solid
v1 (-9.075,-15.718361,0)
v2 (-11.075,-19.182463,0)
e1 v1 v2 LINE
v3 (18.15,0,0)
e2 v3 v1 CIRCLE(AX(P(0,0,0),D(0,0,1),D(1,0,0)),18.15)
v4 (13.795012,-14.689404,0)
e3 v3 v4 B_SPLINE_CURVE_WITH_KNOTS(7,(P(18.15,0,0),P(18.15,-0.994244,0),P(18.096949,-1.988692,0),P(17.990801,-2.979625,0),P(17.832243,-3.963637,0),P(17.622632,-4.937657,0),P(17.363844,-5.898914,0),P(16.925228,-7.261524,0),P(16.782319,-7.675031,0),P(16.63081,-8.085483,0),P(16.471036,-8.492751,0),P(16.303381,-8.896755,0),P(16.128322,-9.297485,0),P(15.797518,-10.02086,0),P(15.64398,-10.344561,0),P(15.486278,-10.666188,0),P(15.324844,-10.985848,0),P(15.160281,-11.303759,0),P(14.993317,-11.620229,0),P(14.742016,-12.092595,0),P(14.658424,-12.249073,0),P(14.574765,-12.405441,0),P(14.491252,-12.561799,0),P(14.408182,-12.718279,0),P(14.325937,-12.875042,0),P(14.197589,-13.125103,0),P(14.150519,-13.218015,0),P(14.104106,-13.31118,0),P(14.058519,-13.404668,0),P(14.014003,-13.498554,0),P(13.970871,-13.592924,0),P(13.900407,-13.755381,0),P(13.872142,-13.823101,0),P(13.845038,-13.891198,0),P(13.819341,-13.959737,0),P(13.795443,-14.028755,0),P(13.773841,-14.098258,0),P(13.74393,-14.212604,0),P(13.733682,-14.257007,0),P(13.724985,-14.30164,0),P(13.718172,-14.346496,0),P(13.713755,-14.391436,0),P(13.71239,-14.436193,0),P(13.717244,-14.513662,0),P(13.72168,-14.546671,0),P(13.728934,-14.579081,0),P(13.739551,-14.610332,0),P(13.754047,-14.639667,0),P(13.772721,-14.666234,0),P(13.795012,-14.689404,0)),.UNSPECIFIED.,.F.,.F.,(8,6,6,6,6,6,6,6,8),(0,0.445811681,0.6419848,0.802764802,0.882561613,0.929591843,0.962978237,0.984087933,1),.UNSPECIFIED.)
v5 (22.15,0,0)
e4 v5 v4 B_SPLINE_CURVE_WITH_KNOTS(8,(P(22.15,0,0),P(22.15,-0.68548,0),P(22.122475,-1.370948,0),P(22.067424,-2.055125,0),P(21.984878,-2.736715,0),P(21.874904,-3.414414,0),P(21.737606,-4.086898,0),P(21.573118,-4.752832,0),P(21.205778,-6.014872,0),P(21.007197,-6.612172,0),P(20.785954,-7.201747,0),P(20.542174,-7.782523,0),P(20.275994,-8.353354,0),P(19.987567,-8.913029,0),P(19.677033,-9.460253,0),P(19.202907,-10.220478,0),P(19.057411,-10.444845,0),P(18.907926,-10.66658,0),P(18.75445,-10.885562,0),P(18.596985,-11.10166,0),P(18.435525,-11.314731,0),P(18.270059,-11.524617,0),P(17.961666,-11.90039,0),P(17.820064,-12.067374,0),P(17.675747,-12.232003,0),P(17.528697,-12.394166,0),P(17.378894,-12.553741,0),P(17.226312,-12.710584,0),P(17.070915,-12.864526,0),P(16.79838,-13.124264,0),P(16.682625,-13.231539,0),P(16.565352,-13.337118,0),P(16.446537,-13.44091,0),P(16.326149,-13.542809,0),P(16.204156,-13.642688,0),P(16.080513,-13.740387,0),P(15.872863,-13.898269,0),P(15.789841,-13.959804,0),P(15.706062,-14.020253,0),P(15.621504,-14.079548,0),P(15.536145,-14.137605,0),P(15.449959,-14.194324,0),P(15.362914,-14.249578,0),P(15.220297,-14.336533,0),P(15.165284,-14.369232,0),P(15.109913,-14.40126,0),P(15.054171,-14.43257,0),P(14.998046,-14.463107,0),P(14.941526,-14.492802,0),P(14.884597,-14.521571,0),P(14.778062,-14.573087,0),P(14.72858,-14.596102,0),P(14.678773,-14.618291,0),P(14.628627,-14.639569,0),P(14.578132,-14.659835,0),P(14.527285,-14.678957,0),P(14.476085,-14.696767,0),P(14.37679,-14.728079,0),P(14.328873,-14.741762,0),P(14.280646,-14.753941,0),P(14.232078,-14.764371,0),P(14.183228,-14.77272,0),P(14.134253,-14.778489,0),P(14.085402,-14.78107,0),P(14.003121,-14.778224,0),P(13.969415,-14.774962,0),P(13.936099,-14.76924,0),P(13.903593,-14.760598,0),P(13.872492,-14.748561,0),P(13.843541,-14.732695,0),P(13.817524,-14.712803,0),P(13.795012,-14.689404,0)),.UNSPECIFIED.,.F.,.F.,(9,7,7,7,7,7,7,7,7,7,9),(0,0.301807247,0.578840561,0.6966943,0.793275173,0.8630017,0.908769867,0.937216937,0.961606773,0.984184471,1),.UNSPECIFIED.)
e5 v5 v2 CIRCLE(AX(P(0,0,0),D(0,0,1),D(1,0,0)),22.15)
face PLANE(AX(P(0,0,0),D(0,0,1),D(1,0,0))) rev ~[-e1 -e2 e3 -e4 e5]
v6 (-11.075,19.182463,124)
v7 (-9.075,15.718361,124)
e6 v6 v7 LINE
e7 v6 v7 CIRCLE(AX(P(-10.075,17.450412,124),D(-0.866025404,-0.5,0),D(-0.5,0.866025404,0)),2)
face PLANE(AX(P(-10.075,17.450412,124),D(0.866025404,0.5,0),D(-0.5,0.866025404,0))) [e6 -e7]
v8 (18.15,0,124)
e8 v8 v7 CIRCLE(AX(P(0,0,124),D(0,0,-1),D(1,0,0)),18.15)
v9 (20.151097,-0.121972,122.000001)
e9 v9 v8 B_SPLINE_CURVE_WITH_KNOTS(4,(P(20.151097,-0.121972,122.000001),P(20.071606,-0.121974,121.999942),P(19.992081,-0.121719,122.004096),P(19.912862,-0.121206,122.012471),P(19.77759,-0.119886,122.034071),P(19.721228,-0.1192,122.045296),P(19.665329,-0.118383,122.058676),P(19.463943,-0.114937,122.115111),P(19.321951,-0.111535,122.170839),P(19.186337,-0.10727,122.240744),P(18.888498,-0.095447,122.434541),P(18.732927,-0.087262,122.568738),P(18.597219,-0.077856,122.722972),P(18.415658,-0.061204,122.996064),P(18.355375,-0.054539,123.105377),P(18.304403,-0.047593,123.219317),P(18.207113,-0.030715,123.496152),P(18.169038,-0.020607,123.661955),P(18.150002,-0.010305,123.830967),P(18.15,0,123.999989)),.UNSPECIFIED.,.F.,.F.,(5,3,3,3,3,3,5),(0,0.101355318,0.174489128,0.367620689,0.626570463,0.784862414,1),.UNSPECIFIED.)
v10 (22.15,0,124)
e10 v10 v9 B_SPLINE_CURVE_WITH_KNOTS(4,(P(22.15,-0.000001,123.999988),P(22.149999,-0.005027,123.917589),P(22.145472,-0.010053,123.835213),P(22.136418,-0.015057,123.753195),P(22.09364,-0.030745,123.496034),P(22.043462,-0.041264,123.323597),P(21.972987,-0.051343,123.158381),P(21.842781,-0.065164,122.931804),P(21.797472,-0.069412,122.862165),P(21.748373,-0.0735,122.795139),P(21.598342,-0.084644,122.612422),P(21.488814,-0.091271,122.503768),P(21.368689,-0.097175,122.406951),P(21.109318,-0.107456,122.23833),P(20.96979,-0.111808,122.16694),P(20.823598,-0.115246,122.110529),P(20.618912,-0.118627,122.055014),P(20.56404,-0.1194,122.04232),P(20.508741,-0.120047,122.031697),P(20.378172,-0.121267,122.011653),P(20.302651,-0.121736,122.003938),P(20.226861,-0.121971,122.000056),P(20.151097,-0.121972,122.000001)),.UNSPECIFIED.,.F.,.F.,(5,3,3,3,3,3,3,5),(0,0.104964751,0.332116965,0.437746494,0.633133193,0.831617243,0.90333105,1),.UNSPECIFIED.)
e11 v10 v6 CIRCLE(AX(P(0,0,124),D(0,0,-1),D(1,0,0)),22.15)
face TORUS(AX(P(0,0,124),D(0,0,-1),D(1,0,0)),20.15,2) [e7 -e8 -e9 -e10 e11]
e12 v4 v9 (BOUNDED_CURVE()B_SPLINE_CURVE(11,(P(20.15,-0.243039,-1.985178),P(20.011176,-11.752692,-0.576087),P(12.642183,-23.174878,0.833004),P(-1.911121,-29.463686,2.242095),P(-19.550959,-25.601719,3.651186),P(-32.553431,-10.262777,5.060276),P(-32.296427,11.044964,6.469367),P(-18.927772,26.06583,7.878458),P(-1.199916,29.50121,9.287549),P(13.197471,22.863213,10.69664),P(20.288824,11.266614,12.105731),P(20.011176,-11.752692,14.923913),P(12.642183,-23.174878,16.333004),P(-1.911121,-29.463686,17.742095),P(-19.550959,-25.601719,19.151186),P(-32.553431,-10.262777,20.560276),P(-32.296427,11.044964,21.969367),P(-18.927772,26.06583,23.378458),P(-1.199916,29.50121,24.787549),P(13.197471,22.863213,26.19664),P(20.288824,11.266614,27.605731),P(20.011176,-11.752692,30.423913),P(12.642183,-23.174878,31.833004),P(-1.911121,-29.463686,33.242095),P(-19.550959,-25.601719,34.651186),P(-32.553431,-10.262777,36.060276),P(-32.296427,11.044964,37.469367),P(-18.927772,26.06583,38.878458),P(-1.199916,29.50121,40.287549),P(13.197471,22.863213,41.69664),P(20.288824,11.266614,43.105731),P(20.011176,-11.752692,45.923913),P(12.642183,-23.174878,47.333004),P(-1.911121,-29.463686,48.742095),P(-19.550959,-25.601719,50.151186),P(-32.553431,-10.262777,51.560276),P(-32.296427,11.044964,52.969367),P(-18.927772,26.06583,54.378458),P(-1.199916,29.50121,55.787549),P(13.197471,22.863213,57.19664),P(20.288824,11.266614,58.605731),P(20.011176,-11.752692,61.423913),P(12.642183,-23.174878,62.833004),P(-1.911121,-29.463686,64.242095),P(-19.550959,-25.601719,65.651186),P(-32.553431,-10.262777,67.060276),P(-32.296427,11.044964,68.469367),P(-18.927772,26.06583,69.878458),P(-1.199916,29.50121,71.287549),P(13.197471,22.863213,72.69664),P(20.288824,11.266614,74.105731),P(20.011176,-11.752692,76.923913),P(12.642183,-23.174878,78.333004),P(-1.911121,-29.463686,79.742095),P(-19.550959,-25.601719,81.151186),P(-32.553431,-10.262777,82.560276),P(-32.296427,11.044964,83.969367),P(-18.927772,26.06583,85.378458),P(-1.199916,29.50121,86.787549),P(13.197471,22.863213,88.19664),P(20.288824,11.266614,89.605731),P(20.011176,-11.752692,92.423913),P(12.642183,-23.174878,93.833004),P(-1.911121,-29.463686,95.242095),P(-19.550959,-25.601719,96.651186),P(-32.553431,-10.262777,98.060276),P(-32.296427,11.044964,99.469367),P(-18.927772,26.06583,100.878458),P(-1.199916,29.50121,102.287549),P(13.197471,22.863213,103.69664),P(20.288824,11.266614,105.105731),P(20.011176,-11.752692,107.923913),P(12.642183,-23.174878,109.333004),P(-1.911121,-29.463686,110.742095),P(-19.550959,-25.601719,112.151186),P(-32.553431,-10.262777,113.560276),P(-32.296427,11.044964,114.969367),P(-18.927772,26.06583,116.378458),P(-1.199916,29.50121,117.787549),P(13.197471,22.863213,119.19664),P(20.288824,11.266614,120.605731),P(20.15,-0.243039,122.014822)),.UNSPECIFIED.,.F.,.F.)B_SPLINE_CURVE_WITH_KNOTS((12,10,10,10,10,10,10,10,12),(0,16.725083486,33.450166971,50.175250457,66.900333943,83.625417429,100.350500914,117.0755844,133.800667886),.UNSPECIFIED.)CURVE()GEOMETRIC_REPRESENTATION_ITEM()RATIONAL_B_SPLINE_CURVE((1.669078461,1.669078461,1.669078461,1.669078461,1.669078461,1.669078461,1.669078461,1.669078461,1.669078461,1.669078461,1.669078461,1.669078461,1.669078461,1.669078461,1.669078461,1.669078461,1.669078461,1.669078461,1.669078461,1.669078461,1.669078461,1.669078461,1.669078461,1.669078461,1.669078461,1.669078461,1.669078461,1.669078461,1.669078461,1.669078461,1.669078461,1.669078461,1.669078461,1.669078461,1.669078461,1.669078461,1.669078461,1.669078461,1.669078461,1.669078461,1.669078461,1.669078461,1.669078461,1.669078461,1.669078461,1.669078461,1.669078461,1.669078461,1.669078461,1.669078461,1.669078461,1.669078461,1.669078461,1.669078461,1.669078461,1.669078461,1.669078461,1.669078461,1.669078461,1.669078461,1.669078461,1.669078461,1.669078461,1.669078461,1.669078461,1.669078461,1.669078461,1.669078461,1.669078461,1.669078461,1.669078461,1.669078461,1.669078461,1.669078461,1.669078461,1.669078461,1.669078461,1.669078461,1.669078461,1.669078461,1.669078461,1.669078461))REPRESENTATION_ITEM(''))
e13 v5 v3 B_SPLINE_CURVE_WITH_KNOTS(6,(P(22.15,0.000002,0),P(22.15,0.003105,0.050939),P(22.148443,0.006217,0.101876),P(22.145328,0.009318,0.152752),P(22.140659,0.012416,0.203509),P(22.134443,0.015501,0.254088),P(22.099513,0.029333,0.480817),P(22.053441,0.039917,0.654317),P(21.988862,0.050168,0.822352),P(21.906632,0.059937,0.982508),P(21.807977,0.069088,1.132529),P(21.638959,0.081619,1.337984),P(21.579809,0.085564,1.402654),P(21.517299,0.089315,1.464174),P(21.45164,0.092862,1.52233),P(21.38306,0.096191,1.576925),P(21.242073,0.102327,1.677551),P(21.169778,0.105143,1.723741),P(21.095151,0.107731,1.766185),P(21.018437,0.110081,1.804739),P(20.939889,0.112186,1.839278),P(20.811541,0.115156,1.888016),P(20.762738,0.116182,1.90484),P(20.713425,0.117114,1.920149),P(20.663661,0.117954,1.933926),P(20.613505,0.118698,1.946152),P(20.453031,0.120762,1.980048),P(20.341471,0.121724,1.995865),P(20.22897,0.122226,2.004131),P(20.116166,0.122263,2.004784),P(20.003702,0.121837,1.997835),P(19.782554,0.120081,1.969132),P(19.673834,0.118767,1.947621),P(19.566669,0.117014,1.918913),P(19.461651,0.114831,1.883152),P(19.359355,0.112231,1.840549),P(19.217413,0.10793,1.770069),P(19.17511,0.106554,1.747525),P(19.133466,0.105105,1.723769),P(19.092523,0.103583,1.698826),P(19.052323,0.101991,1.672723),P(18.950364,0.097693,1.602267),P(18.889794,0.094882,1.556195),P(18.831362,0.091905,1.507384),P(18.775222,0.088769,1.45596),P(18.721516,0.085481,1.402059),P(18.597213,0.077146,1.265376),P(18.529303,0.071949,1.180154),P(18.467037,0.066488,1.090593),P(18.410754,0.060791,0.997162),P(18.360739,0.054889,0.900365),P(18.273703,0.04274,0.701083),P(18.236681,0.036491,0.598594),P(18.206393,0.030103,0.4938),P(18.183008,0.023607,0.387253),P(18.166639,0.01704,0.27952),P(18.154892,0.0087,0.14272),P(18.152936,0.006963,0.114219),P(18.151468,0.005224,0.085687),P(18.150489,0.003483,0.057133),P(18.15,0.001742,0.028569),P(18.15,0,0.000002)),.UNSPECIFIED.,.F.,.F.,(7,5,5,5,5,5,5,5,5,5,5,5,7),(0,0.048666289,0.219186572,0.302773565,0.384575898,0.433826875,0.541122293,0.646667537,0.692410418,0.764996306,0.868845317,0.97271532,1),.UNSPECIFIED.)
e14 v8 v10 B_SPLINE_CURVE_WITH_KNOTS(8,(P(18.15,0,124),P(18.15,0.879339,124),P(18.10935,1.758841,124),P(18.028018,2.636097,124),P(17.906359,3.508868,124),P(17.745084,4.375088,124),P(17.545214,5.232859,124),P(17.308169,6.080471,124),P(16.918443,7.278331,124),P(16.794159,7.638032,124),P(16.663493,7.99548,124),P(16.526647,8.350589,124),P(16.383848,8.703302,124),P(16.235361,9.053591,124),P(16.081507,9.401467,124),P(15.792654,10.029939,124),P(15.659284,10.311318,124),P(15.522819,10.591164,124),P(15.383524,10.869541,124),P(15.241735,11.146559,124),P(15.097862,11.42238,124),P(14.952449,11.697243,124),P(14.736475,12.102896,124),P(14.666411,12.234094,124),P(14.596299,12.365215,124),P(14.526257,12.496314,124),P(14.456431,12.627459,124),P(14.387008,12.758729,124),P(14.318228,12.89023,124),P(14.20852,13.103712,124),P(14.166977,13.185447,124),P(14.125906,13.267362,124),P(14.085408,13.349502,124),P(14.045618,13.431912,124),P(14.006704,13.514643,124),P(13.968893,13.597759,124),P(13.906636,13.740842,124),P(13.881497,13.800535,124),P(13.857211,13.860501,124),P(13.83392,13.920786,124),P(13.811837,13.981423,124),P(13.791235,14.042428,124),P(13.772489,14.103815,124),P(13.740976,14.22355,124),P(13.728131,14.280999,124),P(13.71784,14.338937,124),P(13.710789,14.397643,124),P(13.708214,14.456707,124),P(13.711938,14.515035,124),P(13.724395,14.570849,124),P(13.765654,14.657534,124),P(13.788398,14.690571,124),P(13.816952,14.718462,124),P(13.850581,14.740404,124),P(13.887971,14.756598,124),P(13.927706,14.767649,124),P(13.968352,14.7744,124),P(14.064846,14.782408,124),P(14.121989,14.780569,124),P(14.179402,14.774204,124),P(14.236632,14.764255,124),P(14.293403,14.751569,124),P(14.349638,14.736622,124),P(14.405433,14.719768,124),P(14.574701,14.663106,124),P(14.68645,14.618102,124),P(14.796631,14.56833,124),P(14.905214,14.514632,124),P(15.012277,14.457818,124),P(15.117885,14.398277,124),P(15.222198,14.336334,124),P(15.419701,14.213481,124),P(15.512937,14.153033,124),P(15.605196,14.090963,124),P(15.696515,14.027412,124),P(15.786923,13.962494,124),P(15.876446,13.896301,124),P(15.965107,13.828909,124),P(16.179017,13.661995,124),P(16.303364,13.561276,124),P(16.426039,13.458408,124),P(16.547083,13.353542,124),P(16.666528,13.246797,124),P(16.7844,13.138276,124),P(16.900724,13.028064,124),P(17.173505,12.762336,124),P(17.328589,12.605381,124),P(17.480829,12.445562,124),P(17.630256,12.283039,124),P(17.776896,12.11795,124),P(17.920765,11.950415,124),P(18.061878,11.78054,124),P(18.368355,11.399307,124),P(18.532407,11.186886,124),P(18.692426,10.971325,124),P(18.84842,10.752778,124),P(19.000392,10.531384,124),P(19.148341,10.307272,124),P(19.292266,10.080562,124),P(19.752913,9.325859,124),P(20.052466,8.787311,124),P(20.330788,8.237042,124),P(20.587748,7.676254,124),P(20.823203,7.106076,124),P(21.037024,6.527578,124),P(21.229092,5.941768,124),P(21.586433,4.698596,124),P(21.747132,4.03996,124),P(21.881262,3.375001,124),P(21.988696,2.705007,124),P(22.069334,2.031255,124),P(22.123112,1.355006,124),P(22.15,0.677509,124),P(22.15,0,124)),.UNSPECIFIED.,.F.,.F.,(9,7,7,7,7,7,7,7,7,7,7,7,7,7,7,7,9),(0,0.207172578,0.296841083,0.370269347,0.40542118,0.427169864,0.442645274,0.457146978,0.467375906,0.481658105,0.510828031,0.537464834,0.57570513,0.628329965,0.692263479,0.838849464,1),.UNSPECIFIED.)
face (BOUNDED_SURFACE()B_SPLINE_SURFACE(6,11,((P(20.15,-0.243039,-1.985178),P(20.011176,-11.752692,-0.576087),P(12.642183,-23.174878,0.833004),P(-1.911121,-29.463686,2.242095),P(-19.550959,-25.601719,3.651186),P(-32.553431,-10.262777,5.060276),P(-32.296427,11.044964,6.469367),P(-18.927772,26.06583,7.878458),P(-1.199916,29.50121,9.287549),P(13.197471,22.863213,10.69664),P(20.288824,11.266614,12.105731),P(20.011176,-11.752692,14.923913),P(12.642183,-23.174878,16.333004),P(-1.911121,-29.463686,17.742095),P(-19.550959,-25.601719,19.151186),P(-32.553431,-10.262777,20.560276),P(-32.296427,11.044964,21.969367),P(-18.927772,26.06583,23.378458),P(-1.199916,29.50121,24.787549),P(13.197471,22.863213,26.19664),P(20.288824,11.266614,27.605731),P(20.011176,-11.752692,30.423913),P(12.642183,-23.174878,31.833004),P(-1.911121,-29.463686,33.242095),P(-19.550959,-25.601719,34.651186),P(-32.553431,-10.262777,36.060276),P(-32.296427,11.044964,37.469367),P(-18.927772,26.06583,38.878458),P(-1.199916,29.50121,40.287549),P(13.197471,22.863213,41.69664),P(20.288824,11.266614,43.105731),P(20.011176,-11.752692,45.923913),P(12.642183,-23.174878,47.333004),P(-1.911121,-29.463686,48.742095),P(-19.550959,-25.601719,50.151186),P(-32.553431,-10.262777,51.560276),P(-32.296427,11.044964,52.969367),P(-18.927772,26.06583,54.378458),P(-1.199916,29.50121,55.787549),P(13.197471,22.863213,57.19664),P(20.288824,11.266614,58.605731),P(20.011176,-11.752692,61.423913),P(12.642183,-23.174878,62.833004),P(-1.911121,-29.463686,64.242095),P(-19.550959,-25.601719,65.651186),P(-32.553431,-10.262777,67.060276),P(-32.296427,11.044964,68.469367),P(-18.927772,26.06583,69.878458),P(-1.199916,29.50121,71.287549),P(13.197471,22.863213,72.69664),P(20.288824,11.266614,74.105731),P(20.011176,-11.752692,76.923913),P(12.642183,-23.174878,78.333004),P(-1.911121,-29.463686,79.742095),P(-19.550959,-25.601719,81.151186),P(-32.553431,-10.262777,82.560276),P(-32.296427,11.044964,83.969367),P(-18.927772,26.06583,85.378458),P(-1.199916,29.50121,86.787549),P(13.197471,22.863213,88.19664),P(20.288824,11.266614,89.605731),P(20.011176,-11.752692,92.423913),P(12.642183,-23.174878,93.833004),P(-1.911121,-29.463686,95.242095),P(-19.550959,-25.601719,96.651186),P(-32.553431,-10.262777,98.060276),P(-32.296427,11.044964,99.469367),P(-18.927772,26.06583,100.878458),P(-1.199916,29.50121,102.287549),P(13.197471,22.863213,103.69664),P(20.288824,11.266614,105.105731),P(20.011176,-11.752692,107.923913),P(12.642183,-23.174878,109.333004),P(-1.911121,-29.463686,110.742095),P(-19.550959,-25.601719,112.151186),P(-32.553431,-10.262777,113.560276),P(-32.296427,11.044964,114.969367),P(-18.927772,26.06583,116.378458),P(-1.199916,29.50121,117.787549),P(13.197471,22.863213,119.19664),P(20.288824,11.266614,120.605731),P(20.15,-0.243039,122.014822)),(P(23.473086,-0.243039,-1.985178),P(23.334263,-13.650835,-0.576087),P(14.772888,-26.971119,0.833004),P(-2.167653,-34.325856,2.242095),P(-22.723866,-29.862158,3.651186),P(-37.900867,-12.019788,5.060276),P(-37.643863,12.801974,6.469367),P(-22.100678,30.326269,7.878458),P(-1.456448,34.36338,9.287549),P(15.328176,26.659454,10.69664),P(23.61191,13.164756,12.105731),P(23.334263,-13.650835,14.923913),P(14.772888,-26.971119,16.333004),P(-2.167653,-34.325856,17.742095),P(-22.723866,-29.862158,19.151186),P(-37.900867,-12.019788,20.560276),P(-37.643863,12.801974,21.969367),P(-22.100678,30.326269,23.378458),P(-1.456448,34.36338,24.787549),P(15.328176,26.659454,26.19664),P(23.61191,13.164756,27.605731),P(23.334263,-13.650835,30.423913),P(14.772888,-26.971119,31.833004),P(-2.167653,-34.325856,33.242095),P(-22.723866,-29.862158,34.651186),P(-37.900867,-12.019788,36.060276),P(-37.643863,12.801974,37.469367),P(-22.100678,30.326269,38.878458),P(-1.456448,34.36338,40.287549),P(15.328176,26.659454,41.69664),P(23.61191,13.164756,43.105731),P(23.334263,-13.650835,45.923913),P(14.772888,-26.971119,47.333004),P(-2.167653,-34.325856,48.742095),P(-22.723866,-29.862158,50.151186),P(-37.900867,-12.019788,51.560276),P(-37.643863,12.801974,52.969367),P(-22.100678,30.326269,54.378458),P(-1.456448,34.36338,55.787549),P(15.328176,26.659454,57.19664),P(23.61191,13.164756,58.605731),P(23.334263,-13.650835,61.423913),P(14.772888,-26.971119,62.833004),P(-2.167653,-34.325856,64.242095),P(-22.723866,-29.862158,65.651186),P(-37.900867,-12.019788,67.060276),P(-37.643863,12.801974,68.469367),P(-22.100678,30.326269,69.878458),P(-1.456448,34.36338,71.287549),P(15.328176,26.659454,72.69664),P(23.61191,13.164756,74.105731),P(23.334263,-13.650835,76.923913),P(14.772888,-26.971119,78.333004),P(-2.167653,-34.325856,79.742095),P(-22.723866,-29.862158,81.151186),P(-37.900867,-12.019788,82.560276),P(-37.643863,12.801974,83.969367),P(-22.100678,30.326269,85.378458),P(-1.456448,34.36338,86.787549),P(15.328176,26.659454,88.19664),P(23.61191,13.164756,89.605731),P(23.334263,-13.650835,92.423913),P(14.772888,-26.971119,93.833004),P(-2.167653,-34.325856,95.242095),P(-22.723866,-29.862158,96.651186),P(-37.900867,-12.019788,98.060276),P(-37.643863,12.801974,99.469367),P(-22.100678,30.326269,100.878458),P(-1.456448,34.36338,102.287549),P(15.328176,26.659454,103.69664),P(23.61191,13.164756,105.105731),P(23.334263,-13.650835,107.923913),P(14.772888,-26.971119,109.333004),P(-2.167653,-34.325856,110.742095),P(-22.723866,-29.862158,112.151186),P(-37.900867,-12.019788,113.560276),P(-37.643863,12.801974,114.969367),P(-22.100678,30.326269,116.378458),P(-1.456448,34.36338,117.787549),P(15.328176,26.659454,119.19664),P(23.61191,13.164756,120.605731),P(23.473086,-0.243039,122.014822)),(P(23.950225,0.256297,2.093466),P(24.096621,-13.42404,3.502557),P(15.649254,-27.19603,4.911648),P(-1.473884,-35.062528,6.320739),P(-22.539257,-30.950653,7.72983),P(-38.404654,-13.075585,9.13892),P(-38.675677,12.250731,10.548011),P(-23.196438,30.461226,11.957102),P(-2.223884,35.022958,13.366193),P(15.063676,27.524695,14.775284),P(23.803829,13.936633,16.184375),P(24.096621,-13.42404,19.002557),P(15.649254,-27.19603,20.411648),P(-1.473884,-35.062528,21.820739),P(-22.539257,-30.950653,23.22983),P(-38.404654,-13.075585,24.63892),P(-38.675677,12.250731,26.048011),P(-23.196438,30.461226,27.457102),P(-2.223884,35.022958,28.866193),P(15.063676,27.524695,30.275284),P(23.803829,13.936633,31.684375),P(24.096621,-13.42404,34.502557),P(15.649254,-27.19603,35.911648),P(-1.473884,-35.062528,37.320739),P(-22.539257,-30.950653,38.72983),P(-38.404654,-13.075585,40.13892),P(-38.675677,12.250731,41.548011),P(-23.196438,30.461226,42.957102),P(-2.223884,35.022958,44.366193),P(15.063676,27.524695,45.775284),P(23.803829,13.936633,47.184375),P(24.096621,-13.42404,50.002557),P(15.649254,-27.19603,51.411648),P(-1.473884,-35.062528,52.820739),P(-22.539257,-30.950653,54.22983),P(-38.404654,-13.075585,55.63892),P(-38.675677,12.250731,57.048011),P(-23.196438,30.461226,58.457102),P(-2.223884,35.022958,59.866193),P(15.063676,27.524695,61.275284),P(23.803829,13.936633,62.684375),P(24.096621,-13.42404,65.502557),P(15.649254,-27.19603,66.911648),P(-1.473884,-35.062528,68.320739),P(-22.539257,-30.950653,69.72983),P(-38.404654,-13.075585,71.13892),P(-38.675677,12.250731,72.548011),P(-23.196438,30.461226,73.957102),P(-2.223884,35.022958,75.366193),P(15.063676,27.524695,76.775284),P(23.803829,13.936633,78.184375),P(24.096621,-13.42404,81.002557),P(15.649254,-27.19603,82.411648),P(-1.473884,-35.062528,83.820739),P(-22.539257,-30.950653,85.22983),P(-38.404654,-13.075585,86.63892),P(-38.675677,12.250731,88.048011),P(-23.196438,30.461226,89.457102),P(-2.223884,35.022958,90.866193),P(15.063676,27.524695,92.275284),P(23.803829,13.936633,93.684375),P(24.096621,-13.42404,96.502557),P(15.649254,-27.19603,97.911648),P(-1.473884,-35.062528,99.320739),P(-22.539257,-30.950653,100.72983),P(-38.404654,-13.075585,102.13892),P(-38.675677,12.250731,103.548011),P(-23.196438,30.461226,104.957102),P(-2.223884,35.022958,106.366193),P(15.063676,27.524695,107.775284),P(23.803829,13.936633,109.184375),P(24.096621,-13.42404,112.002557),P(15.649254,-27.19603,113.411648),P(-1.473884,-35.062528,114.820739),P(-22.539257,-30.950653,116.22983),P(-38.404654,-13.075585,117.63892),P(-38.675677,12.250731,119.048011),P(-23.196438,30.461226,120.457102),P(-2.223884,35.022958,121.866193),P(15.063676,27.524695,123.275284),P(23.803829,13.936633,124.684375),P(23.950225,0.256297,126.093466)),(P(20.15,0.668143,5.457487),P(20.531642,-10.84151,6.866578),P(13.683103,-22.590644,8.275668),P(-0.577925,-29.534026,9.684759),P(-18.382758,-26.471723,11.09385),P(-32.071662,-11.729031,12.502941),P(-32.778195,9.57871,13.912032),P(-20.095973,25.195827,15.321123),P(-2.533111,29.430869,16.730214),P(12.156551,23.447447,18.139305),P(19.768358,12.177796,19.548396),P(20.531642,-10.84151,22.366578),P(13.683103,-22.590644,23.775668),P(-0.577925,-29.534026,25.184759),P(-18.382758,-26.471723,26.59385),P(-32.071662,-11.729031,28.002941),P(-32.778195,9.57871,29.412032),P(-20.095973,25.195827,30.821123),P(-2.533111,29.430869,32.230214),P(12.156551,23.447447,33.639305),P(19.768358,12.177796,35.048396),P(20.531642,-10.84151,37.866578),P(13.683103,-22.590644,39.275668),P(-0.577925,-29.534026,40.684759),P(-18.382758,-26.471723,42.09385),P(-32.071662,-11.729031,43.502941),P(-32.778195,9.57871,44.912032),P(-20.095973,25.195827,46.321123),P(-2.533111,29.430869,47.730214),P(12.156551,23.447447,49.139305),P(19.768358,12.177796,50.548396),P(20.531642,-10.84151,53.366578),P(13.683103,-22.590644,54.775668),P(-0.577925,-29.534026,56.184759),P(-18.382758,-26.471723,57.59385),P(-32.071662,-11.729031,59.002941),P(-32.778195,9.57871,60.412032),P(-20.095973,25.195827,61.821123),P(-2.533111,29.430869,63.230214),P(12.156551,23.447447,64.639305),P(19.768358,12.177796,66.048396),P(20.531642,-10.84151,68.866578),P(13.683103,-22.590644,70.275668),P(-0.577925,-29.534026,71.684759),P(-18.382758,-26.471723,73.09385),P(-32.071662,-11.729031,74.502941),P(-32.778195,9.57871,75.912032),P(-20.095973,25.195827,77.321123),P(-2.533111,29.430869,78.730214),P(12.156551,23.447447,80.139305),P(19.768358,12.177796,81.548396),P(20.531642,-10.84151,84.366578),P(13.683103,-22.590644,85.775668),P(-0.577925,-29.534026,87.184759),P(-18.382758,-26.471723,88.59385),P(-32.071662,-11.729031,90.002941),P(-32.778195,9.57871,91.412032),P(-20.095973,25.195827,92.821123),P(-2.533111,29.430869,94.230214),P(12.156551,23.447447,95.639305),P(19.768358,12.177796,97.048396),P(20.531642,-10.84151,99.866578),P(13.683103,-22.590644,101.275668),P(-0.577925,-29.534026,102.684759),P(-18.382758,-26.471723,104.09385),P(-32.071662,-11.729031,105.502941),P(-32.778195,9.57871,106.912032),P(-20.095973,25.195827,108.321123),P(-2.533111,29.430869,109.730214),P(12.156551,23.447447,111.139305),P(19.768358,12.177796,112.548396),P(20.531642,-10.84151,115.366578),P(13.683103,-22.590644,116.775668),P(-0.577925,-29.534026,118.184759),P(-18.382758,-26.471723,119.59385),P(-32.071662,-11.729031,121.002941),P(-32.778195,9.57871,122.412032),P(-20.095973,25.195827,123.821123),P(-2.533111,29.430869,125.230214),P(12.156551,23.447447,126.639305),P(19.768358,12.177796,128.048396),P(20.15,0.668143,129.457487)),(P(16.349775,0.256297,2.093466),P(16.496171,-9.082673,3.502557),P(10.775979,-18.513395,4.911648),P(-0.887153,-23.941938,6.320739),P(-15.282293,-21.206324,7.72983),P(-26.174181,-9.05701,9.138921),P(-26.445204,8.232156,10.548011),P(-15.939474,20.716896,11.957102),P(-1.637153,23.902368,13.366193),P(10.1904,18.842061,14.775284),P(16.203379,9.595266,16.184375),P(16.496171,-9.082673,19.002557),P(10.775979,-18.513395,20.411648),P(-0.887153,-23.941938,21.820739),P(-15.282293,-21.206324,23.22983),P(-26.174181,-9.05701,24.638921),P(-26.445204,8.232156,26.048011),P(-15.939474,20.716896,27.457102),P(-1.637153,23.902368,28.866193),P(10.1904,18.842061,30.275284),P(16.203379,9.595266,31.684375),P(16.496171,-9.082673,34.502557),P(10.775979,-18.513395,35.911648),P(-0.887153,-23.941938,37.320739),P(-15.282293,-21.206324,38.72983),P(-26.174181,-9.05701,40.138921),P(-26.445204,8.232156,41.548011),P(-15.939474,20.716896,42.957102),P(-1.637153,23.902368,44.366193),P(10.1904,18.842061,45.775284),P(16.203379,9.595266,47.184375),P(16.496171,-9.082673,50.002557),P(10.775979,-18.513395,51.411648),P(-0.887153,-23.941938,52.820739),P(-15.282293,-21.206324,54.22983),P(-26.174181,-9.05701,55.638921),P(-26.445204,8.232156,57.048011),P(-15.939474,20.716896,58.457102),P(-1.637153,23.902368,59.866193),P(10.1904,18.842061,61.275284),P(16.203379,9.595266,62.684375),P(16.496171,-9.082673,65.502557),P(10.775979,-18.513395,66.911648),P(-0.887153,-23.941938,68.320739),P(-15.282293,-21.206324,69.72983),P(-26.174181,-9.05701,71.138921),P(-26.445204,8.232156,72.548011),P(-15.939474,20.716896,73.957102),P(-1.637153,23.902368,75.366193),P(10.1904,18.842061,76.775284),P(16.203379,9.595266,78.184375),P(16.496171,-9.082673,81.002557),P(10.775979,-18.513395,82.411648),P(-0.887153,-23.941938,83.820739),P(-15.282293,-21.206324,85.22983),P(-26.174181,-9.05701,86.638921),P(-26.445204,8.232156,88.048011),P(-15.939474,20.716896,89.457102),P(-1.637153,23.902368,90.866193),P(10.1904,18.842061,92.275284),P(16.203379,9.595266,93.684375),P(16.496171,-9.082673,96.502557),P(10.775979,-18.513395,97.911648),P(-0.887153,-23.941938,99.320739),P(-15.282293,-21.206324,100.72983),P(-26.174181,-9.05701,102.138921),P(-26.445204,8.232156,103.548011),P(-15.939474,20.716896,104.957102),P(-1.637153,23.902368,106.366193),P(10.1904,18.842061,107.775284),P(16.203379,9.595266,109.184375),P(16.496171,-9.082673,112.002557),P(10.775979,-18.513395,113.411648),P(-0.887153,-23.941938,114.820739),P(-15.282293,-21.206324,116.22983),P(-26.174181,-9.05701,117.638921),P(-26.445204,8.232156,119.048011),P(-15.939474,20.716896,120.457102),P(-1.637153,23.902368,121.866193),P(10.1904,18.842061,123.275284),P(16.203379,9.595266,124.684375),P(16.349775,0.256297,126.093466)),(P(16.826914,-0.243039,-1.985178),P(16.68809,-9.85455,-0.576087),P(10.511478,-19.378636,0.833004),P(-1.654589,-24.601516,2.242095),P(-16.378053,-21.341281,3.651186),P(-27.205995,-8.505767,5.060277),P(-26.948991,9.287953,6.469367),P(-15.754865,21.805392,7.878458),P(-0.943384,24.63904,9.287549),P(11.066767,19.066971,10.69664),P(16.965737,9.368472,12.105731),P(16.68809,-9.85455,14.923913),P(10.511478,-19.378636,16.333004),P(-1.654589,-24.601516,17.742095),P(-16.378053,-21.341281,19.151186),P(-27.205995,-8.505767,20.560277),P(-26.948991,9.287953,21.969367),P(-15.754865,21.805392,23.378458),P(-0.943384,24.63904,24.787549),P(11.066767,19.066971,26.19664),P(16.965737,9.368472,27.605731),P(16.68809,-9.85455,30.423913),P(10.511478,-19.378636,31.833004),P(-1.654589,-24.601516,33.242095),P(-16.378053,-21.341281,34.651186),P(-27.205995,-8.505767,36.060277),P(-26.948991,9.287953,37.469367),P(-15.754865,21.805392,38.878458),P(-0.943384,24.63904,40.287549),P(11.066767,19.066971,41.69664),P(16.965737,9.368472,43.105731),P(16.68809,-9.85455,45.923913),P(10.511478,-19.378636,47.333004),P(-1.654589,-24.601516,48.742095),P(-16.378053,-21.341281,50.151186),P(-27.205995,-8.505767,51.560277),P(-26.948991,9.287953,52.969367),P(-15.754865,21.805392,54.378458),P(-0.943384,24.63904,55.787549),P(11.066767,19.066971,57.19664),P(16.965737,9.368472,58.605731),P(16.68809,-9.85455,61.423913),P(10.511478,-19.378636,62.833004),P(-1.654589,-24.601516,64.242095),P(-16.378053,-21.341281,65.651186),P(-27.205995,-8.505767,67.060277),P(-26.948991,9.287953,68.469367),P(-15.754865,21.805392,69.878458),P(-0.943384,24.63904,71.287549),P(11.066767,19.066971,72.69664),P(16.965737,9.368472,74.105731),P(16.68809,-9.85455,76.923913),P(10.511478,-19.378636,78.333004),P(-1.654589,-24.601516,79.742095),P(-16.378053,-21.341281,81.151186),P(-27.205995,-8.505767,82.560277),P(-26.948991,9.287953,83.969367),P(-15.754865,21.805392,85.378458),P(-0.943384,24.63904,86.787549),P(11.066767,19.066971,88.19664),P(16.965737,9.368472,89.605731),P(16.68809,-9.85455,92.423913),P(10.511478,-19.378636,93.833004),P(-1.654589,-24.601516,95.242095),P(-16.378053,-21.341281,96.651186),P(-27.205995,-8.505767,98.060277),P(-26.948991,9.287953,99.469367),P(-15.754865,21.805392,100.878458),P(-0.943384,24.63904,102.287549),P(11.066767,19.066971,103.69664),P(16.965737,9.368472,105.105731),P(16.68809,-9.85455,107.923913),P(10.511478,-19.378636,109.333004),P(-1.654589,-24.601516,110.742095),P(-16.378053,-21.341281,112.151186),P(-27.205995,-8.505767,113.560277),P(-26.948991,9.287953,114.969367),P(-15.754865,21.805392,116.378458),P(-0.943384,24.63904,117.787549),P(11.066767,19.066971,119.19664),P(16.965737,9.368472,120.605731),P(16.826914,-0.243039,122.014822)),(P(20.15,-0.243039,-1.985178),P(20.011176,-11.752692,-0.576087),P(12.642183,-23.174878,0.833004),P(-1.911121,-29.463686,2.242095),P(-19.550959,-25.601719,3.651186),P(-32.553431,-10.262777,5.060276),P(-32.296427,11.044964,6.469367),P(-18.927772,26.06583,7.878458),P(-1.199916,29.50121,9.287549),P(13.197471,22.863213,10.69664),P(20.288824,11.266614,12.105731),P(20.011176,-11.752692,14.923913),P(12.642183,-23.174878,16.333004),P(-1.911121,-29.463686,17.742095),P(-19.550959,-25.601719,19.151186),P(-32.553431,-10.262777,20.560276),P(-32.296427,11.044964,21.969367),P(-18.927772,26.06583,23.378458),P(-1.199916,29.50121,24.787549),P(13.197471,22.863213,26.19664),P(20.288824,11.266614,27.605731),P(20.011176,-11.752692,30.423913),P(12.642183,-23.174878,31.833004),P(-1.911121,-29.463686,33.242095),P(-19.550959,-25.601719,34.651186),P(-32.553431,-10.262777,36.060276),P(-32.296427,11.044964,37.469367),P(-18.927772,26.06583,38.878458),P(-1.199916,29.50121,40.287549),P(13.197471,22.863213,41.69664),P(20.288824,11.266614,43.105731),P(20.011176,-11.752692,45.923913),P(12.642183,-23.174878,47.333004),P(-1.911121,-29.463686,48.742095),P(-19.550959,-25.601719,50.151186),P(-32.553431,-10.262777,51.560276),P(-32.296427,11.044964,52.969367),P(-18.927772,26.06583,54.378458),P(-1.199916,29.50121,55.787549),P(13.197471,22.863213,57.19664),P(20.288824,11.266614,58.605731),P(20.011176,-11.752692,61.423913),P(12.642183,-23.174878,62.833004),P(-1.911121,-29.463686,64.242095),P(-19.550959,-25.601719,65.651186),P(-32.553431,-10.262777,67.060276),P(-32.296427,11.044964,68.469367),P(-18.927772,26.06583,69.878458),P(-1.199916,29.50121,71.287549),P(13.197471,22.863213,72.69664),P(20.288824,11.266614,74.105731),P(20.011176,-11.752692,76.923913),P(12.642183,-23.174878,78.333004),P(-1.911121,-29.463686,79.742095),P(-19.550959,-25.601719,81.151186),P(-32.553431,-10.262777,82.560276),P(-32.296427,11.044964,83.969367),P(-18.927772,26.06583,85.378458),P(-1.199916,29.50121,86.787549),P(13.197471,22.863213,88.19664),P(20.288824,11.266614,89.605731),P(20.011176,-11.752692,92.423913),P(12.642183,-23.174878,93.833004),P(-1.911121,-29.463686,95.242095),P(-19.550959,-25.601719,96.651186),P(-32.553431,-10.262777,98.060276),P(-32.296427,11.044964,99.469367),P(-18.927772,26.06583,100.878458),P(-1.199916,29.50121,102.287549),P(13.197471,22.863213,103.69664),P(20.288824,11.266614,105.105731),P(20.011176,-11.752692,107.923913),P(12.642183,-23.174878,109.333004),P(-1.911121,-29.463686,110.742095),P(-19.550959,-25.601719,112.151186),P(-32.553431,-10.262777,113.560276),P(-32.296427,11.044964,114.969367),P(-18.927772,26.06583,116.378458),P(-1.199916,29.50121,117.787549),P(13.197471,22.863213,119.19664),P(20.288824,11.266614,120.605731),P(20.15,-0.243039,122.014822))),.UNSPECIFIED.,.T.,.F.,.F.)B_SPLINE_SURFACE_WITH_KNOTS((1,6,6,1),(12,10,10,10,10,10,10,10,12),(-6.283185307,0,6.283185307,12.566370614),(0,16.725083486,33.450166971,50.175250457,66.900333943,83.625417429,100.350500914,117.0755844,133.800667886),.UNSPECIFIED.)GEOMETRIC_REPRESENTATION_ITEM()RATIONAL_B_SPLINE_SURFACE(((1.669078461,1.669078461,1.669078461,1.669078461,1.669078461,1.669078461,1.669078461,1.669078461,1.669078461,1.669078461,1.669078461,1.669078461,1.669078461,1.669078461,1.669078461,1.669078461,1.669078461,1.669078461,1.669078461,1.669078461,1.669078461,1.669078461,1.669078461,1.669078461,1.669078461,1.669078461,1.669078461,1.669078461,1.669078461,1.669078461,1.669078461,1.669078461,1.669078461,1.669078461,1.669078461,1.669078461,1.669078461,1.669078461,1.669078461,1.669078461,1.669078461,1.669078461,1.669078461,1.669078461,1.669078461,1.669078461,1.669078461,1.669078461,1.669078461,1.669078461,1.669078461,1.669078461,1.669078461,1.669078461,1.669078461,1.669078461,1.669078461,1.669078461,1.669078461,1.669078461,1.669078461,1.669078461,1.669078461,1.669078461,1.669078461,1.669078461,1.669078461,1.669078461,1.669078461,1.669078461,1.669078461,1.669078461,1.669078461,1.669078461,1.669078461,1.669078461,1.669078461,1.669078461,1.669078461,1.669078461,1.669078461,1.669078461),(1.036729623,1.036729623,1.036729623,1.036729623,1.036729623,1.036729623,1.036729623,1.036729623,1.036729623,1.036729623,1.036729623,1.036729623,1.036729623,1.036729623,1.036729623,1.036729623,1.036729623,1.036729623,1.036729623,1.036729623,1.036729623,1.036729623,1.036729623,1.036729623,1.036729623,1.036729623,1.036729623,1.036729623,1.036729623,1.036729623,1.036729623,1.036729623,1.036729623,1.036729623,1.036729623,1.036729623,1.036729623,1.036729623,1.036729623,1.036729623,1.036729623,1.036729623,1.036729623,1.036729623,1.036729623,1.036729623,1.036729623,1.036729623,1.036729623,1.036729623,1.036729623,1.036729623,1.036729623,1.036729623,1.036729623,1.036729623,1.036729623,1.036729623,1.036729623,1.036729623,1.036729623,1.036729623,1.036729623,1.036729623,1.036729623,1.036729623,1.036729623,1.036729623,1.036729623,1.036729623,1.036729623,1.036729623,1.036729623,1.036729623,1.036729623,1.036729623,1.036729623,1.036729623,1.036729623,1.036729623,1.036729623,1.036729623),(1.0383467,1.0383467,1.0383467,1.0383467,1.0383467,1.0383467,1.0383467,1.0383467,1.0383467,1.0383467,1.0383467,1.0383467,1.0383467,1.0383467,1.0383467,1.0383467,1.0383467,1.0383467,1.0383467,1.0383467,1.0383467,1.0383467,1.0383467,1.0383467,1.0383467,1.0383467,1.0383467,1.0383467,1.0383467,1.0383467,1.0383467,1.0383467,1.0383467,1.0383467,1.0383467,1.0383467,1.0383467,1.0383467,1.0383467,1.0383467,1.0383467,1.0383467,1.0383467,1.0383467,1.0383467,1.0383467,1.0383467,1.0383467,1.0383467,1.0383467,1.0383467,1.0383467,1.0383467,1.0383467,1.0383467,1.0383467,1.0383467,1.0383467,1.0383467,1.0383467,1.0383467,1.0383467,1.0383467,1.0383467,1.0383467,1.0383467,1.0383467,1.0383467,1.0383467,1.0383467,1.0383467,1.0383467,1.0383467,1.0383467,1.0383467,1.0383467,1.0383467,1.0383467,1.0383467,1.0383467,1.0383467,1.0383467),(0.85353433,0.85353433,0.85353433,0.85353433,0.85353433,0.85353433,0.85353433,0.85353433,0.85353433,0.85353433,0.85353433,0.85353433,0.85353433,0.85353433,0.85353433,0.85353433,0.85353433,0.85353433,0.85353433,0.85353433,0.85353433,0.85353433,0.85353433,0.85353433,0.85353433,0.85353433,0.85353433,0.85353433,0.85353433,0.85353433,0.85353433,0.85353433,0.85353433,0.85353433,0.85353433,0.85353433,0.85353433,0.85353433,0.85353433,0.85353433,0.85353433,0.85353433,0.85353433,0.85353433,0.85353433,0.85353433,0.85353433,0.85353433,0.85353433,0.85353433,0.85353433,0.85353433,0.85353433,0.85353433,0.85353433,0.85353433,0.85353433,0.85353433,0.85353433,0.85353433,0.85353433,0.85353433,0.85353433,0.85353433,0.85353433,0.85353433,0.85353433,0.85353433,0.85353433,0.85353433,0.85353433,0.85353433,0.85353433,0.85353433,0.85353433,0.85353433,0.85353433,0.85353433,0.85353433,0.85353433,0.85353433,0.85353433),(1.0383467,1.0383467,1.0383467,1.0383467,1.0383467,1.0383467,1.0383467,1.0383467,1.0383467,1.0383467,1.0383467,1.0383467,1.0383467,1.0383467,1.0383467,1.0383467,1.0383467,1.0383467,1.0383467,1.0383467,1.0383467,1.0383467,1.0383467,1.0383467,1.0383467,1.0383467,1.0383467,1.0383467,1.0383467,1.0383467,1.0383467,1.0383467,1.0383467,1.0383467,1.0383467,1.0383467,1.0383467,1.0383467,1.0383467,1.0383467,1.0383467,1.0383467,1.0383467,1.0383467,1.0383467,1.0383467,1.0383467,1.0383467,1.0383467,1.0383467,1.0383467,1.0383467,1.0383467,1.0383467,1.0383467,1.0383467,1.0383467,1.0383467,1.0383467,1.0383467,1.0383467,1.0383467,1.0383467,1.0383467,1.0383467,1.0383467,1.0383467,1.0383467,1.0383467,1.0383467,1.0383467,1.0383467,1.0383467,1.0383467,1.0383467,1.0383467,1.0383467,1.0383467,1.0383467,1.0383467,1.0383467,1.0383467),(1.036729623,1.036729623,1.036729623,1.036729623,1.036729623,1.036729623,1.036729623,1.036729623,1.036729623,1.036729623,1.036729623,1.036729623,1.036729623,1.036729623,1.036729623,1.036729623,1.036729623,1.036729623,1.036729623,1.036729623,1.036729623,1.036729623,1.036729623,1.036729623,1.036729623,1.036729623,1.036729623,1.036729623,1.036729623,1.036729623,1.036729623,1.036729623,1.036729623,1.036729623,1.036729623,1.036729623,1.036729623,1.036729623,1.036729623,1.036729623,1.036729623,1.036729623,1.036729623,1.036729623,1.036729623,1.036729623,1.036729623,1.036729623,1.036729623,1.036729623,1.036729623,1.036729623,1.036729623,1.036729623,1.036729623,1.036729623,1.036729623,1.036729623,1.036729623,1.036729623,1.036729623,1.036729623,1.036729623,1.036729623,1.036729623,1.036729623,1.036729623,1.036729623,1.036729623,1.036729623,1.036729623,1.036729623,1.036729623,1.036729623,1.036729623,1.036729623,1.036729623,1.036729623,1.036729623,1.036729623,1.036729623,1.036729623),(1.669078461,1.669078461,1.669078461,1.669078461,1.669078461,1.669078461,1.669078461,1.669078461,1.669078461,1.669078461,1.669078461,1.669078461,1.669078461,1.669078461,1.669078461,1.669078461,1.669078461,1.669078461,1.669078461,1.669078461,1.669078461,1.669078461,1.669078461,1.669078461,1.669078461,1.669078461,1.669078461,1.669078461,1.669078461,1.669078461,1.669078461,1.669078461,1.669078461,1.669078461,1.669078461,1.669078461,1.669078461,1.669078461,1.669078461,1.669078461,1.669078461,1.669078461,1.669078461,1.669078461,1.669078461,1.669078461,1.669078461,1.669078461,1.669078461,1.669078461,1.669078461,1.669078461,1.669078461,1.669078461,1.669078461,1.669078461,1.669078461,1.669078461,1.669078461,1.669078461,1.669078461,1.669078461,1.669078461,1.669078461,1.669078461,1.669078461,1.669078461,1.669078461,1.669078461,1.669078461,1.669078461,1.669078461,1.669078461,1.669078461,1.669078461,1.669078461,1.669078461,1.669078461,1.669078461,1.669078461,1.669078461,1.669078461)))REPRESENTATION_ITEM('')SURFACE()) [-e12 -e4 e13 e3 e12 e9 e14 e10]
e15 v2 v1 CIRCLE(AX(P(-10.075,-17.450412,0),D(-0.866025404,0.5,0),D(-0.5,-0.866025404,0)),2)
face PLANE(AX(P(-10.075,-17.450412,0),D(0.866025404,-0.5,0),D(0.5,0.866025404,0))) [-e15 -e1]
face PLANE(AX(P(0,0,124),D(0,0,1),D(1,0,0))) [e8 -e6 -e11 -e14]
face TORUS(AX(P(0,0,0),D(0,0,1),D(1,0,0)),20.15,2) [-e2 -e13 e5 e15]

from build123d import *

# Parameters (mm, degrees)
SWEEP1_PITCH       = 15.5
SWEEP1_HEIGHT      = 124
SWEEP1_RADIUS      = 20.15
SWEEP1_PROFILE_R   = 2
SWEEP2_PROFILE_R   = 2
SKETCH41_R         = 25
CUT_EXTRUDE1_DEPTH = 3.0000001
SWEEP3_PROFILE_R   = 2
SKETCH55_R         = 25
CUT_EXTRUDE2_DEPTH = 3.0000001


with BuildPart() as part:
    # Sweep1: sweep along a helix
    with BuildLine() as sweep1_path:
        Helix(SWEEP1_PITCH, SWEEP1_HEIGHT, SWEEP1_RADIUS, center=(0, 0, 0), direction=(0, 0, 1), lefthand=True)
    # Sweep1 profile (on start of the path) → Sweep1 (sweep)
    with BuildSketch(Plane(origin=(20.15, 0, 0), x_dir=(0, -0.121519578, -0.992589035), z_dir=(0, -0.992589035, 0.121519578))):
        Circle(SWEEP1_PROFILE_R)
    sweep(path=sweep1_path.line, is_frenet=True)

    # Sweep2: sweep along a path in Sketch10
    with BuildLine(Plane.XY.offset(124)) as sweep2_path:
        ThreePointArc((20.15, 0), (-10.075, -17.450411886), (-10.075, 17.450411886))
    # Sweep2 profile (on start of the path) → Sweep2 (sweep)
    with BuildSketch(Plane(origin=(20.15, 0, 124), x_dir=(-1, 0, 0), z_dir=(0, -1, 0))):
        Circle(SWEEP2_PROFILE_R)
    sweep(path=sweep2_path.line)

    # Sketch41 → Cut-Extrude1 (cut, through all)
    with BuildSketch(Plane.XY.offset(124)):
        Circle(SKETCH41_R)
    extrude(amount=CUT_EXTRUDE1_DEPTH, mode=Mode.SUBTRACT)

    # Sweep3: sweep along a path in Sketch42
    with BuildLine(Plane.XY) as sweep3_path:
        ThreePointArc((20.15, 0), (-10.075, 17.450411886), (-10.075, -17.450411886))
    # Sweep3 profile (on start of the path) → Sweep3 (sweep)
    with BuildSketch(Plane(origin=(20.15, 0, 0), x_dir=(1, 0, 0), z_dir=(0, 1, 0))):
        Circle(SWEEP3_PROFILE_R)
    sweep(path=sweep3_path.line)

    # Sketch55 → Cut-Extrude2 (cut, through all)
    with BuildSketch(Plane.XY):
        Circle(SKETCH55_R)
    extrude(amount=-CUT_EXTRUDE2_DEPTH, mode=Mode.SUBTRACT)


solid = part.part
